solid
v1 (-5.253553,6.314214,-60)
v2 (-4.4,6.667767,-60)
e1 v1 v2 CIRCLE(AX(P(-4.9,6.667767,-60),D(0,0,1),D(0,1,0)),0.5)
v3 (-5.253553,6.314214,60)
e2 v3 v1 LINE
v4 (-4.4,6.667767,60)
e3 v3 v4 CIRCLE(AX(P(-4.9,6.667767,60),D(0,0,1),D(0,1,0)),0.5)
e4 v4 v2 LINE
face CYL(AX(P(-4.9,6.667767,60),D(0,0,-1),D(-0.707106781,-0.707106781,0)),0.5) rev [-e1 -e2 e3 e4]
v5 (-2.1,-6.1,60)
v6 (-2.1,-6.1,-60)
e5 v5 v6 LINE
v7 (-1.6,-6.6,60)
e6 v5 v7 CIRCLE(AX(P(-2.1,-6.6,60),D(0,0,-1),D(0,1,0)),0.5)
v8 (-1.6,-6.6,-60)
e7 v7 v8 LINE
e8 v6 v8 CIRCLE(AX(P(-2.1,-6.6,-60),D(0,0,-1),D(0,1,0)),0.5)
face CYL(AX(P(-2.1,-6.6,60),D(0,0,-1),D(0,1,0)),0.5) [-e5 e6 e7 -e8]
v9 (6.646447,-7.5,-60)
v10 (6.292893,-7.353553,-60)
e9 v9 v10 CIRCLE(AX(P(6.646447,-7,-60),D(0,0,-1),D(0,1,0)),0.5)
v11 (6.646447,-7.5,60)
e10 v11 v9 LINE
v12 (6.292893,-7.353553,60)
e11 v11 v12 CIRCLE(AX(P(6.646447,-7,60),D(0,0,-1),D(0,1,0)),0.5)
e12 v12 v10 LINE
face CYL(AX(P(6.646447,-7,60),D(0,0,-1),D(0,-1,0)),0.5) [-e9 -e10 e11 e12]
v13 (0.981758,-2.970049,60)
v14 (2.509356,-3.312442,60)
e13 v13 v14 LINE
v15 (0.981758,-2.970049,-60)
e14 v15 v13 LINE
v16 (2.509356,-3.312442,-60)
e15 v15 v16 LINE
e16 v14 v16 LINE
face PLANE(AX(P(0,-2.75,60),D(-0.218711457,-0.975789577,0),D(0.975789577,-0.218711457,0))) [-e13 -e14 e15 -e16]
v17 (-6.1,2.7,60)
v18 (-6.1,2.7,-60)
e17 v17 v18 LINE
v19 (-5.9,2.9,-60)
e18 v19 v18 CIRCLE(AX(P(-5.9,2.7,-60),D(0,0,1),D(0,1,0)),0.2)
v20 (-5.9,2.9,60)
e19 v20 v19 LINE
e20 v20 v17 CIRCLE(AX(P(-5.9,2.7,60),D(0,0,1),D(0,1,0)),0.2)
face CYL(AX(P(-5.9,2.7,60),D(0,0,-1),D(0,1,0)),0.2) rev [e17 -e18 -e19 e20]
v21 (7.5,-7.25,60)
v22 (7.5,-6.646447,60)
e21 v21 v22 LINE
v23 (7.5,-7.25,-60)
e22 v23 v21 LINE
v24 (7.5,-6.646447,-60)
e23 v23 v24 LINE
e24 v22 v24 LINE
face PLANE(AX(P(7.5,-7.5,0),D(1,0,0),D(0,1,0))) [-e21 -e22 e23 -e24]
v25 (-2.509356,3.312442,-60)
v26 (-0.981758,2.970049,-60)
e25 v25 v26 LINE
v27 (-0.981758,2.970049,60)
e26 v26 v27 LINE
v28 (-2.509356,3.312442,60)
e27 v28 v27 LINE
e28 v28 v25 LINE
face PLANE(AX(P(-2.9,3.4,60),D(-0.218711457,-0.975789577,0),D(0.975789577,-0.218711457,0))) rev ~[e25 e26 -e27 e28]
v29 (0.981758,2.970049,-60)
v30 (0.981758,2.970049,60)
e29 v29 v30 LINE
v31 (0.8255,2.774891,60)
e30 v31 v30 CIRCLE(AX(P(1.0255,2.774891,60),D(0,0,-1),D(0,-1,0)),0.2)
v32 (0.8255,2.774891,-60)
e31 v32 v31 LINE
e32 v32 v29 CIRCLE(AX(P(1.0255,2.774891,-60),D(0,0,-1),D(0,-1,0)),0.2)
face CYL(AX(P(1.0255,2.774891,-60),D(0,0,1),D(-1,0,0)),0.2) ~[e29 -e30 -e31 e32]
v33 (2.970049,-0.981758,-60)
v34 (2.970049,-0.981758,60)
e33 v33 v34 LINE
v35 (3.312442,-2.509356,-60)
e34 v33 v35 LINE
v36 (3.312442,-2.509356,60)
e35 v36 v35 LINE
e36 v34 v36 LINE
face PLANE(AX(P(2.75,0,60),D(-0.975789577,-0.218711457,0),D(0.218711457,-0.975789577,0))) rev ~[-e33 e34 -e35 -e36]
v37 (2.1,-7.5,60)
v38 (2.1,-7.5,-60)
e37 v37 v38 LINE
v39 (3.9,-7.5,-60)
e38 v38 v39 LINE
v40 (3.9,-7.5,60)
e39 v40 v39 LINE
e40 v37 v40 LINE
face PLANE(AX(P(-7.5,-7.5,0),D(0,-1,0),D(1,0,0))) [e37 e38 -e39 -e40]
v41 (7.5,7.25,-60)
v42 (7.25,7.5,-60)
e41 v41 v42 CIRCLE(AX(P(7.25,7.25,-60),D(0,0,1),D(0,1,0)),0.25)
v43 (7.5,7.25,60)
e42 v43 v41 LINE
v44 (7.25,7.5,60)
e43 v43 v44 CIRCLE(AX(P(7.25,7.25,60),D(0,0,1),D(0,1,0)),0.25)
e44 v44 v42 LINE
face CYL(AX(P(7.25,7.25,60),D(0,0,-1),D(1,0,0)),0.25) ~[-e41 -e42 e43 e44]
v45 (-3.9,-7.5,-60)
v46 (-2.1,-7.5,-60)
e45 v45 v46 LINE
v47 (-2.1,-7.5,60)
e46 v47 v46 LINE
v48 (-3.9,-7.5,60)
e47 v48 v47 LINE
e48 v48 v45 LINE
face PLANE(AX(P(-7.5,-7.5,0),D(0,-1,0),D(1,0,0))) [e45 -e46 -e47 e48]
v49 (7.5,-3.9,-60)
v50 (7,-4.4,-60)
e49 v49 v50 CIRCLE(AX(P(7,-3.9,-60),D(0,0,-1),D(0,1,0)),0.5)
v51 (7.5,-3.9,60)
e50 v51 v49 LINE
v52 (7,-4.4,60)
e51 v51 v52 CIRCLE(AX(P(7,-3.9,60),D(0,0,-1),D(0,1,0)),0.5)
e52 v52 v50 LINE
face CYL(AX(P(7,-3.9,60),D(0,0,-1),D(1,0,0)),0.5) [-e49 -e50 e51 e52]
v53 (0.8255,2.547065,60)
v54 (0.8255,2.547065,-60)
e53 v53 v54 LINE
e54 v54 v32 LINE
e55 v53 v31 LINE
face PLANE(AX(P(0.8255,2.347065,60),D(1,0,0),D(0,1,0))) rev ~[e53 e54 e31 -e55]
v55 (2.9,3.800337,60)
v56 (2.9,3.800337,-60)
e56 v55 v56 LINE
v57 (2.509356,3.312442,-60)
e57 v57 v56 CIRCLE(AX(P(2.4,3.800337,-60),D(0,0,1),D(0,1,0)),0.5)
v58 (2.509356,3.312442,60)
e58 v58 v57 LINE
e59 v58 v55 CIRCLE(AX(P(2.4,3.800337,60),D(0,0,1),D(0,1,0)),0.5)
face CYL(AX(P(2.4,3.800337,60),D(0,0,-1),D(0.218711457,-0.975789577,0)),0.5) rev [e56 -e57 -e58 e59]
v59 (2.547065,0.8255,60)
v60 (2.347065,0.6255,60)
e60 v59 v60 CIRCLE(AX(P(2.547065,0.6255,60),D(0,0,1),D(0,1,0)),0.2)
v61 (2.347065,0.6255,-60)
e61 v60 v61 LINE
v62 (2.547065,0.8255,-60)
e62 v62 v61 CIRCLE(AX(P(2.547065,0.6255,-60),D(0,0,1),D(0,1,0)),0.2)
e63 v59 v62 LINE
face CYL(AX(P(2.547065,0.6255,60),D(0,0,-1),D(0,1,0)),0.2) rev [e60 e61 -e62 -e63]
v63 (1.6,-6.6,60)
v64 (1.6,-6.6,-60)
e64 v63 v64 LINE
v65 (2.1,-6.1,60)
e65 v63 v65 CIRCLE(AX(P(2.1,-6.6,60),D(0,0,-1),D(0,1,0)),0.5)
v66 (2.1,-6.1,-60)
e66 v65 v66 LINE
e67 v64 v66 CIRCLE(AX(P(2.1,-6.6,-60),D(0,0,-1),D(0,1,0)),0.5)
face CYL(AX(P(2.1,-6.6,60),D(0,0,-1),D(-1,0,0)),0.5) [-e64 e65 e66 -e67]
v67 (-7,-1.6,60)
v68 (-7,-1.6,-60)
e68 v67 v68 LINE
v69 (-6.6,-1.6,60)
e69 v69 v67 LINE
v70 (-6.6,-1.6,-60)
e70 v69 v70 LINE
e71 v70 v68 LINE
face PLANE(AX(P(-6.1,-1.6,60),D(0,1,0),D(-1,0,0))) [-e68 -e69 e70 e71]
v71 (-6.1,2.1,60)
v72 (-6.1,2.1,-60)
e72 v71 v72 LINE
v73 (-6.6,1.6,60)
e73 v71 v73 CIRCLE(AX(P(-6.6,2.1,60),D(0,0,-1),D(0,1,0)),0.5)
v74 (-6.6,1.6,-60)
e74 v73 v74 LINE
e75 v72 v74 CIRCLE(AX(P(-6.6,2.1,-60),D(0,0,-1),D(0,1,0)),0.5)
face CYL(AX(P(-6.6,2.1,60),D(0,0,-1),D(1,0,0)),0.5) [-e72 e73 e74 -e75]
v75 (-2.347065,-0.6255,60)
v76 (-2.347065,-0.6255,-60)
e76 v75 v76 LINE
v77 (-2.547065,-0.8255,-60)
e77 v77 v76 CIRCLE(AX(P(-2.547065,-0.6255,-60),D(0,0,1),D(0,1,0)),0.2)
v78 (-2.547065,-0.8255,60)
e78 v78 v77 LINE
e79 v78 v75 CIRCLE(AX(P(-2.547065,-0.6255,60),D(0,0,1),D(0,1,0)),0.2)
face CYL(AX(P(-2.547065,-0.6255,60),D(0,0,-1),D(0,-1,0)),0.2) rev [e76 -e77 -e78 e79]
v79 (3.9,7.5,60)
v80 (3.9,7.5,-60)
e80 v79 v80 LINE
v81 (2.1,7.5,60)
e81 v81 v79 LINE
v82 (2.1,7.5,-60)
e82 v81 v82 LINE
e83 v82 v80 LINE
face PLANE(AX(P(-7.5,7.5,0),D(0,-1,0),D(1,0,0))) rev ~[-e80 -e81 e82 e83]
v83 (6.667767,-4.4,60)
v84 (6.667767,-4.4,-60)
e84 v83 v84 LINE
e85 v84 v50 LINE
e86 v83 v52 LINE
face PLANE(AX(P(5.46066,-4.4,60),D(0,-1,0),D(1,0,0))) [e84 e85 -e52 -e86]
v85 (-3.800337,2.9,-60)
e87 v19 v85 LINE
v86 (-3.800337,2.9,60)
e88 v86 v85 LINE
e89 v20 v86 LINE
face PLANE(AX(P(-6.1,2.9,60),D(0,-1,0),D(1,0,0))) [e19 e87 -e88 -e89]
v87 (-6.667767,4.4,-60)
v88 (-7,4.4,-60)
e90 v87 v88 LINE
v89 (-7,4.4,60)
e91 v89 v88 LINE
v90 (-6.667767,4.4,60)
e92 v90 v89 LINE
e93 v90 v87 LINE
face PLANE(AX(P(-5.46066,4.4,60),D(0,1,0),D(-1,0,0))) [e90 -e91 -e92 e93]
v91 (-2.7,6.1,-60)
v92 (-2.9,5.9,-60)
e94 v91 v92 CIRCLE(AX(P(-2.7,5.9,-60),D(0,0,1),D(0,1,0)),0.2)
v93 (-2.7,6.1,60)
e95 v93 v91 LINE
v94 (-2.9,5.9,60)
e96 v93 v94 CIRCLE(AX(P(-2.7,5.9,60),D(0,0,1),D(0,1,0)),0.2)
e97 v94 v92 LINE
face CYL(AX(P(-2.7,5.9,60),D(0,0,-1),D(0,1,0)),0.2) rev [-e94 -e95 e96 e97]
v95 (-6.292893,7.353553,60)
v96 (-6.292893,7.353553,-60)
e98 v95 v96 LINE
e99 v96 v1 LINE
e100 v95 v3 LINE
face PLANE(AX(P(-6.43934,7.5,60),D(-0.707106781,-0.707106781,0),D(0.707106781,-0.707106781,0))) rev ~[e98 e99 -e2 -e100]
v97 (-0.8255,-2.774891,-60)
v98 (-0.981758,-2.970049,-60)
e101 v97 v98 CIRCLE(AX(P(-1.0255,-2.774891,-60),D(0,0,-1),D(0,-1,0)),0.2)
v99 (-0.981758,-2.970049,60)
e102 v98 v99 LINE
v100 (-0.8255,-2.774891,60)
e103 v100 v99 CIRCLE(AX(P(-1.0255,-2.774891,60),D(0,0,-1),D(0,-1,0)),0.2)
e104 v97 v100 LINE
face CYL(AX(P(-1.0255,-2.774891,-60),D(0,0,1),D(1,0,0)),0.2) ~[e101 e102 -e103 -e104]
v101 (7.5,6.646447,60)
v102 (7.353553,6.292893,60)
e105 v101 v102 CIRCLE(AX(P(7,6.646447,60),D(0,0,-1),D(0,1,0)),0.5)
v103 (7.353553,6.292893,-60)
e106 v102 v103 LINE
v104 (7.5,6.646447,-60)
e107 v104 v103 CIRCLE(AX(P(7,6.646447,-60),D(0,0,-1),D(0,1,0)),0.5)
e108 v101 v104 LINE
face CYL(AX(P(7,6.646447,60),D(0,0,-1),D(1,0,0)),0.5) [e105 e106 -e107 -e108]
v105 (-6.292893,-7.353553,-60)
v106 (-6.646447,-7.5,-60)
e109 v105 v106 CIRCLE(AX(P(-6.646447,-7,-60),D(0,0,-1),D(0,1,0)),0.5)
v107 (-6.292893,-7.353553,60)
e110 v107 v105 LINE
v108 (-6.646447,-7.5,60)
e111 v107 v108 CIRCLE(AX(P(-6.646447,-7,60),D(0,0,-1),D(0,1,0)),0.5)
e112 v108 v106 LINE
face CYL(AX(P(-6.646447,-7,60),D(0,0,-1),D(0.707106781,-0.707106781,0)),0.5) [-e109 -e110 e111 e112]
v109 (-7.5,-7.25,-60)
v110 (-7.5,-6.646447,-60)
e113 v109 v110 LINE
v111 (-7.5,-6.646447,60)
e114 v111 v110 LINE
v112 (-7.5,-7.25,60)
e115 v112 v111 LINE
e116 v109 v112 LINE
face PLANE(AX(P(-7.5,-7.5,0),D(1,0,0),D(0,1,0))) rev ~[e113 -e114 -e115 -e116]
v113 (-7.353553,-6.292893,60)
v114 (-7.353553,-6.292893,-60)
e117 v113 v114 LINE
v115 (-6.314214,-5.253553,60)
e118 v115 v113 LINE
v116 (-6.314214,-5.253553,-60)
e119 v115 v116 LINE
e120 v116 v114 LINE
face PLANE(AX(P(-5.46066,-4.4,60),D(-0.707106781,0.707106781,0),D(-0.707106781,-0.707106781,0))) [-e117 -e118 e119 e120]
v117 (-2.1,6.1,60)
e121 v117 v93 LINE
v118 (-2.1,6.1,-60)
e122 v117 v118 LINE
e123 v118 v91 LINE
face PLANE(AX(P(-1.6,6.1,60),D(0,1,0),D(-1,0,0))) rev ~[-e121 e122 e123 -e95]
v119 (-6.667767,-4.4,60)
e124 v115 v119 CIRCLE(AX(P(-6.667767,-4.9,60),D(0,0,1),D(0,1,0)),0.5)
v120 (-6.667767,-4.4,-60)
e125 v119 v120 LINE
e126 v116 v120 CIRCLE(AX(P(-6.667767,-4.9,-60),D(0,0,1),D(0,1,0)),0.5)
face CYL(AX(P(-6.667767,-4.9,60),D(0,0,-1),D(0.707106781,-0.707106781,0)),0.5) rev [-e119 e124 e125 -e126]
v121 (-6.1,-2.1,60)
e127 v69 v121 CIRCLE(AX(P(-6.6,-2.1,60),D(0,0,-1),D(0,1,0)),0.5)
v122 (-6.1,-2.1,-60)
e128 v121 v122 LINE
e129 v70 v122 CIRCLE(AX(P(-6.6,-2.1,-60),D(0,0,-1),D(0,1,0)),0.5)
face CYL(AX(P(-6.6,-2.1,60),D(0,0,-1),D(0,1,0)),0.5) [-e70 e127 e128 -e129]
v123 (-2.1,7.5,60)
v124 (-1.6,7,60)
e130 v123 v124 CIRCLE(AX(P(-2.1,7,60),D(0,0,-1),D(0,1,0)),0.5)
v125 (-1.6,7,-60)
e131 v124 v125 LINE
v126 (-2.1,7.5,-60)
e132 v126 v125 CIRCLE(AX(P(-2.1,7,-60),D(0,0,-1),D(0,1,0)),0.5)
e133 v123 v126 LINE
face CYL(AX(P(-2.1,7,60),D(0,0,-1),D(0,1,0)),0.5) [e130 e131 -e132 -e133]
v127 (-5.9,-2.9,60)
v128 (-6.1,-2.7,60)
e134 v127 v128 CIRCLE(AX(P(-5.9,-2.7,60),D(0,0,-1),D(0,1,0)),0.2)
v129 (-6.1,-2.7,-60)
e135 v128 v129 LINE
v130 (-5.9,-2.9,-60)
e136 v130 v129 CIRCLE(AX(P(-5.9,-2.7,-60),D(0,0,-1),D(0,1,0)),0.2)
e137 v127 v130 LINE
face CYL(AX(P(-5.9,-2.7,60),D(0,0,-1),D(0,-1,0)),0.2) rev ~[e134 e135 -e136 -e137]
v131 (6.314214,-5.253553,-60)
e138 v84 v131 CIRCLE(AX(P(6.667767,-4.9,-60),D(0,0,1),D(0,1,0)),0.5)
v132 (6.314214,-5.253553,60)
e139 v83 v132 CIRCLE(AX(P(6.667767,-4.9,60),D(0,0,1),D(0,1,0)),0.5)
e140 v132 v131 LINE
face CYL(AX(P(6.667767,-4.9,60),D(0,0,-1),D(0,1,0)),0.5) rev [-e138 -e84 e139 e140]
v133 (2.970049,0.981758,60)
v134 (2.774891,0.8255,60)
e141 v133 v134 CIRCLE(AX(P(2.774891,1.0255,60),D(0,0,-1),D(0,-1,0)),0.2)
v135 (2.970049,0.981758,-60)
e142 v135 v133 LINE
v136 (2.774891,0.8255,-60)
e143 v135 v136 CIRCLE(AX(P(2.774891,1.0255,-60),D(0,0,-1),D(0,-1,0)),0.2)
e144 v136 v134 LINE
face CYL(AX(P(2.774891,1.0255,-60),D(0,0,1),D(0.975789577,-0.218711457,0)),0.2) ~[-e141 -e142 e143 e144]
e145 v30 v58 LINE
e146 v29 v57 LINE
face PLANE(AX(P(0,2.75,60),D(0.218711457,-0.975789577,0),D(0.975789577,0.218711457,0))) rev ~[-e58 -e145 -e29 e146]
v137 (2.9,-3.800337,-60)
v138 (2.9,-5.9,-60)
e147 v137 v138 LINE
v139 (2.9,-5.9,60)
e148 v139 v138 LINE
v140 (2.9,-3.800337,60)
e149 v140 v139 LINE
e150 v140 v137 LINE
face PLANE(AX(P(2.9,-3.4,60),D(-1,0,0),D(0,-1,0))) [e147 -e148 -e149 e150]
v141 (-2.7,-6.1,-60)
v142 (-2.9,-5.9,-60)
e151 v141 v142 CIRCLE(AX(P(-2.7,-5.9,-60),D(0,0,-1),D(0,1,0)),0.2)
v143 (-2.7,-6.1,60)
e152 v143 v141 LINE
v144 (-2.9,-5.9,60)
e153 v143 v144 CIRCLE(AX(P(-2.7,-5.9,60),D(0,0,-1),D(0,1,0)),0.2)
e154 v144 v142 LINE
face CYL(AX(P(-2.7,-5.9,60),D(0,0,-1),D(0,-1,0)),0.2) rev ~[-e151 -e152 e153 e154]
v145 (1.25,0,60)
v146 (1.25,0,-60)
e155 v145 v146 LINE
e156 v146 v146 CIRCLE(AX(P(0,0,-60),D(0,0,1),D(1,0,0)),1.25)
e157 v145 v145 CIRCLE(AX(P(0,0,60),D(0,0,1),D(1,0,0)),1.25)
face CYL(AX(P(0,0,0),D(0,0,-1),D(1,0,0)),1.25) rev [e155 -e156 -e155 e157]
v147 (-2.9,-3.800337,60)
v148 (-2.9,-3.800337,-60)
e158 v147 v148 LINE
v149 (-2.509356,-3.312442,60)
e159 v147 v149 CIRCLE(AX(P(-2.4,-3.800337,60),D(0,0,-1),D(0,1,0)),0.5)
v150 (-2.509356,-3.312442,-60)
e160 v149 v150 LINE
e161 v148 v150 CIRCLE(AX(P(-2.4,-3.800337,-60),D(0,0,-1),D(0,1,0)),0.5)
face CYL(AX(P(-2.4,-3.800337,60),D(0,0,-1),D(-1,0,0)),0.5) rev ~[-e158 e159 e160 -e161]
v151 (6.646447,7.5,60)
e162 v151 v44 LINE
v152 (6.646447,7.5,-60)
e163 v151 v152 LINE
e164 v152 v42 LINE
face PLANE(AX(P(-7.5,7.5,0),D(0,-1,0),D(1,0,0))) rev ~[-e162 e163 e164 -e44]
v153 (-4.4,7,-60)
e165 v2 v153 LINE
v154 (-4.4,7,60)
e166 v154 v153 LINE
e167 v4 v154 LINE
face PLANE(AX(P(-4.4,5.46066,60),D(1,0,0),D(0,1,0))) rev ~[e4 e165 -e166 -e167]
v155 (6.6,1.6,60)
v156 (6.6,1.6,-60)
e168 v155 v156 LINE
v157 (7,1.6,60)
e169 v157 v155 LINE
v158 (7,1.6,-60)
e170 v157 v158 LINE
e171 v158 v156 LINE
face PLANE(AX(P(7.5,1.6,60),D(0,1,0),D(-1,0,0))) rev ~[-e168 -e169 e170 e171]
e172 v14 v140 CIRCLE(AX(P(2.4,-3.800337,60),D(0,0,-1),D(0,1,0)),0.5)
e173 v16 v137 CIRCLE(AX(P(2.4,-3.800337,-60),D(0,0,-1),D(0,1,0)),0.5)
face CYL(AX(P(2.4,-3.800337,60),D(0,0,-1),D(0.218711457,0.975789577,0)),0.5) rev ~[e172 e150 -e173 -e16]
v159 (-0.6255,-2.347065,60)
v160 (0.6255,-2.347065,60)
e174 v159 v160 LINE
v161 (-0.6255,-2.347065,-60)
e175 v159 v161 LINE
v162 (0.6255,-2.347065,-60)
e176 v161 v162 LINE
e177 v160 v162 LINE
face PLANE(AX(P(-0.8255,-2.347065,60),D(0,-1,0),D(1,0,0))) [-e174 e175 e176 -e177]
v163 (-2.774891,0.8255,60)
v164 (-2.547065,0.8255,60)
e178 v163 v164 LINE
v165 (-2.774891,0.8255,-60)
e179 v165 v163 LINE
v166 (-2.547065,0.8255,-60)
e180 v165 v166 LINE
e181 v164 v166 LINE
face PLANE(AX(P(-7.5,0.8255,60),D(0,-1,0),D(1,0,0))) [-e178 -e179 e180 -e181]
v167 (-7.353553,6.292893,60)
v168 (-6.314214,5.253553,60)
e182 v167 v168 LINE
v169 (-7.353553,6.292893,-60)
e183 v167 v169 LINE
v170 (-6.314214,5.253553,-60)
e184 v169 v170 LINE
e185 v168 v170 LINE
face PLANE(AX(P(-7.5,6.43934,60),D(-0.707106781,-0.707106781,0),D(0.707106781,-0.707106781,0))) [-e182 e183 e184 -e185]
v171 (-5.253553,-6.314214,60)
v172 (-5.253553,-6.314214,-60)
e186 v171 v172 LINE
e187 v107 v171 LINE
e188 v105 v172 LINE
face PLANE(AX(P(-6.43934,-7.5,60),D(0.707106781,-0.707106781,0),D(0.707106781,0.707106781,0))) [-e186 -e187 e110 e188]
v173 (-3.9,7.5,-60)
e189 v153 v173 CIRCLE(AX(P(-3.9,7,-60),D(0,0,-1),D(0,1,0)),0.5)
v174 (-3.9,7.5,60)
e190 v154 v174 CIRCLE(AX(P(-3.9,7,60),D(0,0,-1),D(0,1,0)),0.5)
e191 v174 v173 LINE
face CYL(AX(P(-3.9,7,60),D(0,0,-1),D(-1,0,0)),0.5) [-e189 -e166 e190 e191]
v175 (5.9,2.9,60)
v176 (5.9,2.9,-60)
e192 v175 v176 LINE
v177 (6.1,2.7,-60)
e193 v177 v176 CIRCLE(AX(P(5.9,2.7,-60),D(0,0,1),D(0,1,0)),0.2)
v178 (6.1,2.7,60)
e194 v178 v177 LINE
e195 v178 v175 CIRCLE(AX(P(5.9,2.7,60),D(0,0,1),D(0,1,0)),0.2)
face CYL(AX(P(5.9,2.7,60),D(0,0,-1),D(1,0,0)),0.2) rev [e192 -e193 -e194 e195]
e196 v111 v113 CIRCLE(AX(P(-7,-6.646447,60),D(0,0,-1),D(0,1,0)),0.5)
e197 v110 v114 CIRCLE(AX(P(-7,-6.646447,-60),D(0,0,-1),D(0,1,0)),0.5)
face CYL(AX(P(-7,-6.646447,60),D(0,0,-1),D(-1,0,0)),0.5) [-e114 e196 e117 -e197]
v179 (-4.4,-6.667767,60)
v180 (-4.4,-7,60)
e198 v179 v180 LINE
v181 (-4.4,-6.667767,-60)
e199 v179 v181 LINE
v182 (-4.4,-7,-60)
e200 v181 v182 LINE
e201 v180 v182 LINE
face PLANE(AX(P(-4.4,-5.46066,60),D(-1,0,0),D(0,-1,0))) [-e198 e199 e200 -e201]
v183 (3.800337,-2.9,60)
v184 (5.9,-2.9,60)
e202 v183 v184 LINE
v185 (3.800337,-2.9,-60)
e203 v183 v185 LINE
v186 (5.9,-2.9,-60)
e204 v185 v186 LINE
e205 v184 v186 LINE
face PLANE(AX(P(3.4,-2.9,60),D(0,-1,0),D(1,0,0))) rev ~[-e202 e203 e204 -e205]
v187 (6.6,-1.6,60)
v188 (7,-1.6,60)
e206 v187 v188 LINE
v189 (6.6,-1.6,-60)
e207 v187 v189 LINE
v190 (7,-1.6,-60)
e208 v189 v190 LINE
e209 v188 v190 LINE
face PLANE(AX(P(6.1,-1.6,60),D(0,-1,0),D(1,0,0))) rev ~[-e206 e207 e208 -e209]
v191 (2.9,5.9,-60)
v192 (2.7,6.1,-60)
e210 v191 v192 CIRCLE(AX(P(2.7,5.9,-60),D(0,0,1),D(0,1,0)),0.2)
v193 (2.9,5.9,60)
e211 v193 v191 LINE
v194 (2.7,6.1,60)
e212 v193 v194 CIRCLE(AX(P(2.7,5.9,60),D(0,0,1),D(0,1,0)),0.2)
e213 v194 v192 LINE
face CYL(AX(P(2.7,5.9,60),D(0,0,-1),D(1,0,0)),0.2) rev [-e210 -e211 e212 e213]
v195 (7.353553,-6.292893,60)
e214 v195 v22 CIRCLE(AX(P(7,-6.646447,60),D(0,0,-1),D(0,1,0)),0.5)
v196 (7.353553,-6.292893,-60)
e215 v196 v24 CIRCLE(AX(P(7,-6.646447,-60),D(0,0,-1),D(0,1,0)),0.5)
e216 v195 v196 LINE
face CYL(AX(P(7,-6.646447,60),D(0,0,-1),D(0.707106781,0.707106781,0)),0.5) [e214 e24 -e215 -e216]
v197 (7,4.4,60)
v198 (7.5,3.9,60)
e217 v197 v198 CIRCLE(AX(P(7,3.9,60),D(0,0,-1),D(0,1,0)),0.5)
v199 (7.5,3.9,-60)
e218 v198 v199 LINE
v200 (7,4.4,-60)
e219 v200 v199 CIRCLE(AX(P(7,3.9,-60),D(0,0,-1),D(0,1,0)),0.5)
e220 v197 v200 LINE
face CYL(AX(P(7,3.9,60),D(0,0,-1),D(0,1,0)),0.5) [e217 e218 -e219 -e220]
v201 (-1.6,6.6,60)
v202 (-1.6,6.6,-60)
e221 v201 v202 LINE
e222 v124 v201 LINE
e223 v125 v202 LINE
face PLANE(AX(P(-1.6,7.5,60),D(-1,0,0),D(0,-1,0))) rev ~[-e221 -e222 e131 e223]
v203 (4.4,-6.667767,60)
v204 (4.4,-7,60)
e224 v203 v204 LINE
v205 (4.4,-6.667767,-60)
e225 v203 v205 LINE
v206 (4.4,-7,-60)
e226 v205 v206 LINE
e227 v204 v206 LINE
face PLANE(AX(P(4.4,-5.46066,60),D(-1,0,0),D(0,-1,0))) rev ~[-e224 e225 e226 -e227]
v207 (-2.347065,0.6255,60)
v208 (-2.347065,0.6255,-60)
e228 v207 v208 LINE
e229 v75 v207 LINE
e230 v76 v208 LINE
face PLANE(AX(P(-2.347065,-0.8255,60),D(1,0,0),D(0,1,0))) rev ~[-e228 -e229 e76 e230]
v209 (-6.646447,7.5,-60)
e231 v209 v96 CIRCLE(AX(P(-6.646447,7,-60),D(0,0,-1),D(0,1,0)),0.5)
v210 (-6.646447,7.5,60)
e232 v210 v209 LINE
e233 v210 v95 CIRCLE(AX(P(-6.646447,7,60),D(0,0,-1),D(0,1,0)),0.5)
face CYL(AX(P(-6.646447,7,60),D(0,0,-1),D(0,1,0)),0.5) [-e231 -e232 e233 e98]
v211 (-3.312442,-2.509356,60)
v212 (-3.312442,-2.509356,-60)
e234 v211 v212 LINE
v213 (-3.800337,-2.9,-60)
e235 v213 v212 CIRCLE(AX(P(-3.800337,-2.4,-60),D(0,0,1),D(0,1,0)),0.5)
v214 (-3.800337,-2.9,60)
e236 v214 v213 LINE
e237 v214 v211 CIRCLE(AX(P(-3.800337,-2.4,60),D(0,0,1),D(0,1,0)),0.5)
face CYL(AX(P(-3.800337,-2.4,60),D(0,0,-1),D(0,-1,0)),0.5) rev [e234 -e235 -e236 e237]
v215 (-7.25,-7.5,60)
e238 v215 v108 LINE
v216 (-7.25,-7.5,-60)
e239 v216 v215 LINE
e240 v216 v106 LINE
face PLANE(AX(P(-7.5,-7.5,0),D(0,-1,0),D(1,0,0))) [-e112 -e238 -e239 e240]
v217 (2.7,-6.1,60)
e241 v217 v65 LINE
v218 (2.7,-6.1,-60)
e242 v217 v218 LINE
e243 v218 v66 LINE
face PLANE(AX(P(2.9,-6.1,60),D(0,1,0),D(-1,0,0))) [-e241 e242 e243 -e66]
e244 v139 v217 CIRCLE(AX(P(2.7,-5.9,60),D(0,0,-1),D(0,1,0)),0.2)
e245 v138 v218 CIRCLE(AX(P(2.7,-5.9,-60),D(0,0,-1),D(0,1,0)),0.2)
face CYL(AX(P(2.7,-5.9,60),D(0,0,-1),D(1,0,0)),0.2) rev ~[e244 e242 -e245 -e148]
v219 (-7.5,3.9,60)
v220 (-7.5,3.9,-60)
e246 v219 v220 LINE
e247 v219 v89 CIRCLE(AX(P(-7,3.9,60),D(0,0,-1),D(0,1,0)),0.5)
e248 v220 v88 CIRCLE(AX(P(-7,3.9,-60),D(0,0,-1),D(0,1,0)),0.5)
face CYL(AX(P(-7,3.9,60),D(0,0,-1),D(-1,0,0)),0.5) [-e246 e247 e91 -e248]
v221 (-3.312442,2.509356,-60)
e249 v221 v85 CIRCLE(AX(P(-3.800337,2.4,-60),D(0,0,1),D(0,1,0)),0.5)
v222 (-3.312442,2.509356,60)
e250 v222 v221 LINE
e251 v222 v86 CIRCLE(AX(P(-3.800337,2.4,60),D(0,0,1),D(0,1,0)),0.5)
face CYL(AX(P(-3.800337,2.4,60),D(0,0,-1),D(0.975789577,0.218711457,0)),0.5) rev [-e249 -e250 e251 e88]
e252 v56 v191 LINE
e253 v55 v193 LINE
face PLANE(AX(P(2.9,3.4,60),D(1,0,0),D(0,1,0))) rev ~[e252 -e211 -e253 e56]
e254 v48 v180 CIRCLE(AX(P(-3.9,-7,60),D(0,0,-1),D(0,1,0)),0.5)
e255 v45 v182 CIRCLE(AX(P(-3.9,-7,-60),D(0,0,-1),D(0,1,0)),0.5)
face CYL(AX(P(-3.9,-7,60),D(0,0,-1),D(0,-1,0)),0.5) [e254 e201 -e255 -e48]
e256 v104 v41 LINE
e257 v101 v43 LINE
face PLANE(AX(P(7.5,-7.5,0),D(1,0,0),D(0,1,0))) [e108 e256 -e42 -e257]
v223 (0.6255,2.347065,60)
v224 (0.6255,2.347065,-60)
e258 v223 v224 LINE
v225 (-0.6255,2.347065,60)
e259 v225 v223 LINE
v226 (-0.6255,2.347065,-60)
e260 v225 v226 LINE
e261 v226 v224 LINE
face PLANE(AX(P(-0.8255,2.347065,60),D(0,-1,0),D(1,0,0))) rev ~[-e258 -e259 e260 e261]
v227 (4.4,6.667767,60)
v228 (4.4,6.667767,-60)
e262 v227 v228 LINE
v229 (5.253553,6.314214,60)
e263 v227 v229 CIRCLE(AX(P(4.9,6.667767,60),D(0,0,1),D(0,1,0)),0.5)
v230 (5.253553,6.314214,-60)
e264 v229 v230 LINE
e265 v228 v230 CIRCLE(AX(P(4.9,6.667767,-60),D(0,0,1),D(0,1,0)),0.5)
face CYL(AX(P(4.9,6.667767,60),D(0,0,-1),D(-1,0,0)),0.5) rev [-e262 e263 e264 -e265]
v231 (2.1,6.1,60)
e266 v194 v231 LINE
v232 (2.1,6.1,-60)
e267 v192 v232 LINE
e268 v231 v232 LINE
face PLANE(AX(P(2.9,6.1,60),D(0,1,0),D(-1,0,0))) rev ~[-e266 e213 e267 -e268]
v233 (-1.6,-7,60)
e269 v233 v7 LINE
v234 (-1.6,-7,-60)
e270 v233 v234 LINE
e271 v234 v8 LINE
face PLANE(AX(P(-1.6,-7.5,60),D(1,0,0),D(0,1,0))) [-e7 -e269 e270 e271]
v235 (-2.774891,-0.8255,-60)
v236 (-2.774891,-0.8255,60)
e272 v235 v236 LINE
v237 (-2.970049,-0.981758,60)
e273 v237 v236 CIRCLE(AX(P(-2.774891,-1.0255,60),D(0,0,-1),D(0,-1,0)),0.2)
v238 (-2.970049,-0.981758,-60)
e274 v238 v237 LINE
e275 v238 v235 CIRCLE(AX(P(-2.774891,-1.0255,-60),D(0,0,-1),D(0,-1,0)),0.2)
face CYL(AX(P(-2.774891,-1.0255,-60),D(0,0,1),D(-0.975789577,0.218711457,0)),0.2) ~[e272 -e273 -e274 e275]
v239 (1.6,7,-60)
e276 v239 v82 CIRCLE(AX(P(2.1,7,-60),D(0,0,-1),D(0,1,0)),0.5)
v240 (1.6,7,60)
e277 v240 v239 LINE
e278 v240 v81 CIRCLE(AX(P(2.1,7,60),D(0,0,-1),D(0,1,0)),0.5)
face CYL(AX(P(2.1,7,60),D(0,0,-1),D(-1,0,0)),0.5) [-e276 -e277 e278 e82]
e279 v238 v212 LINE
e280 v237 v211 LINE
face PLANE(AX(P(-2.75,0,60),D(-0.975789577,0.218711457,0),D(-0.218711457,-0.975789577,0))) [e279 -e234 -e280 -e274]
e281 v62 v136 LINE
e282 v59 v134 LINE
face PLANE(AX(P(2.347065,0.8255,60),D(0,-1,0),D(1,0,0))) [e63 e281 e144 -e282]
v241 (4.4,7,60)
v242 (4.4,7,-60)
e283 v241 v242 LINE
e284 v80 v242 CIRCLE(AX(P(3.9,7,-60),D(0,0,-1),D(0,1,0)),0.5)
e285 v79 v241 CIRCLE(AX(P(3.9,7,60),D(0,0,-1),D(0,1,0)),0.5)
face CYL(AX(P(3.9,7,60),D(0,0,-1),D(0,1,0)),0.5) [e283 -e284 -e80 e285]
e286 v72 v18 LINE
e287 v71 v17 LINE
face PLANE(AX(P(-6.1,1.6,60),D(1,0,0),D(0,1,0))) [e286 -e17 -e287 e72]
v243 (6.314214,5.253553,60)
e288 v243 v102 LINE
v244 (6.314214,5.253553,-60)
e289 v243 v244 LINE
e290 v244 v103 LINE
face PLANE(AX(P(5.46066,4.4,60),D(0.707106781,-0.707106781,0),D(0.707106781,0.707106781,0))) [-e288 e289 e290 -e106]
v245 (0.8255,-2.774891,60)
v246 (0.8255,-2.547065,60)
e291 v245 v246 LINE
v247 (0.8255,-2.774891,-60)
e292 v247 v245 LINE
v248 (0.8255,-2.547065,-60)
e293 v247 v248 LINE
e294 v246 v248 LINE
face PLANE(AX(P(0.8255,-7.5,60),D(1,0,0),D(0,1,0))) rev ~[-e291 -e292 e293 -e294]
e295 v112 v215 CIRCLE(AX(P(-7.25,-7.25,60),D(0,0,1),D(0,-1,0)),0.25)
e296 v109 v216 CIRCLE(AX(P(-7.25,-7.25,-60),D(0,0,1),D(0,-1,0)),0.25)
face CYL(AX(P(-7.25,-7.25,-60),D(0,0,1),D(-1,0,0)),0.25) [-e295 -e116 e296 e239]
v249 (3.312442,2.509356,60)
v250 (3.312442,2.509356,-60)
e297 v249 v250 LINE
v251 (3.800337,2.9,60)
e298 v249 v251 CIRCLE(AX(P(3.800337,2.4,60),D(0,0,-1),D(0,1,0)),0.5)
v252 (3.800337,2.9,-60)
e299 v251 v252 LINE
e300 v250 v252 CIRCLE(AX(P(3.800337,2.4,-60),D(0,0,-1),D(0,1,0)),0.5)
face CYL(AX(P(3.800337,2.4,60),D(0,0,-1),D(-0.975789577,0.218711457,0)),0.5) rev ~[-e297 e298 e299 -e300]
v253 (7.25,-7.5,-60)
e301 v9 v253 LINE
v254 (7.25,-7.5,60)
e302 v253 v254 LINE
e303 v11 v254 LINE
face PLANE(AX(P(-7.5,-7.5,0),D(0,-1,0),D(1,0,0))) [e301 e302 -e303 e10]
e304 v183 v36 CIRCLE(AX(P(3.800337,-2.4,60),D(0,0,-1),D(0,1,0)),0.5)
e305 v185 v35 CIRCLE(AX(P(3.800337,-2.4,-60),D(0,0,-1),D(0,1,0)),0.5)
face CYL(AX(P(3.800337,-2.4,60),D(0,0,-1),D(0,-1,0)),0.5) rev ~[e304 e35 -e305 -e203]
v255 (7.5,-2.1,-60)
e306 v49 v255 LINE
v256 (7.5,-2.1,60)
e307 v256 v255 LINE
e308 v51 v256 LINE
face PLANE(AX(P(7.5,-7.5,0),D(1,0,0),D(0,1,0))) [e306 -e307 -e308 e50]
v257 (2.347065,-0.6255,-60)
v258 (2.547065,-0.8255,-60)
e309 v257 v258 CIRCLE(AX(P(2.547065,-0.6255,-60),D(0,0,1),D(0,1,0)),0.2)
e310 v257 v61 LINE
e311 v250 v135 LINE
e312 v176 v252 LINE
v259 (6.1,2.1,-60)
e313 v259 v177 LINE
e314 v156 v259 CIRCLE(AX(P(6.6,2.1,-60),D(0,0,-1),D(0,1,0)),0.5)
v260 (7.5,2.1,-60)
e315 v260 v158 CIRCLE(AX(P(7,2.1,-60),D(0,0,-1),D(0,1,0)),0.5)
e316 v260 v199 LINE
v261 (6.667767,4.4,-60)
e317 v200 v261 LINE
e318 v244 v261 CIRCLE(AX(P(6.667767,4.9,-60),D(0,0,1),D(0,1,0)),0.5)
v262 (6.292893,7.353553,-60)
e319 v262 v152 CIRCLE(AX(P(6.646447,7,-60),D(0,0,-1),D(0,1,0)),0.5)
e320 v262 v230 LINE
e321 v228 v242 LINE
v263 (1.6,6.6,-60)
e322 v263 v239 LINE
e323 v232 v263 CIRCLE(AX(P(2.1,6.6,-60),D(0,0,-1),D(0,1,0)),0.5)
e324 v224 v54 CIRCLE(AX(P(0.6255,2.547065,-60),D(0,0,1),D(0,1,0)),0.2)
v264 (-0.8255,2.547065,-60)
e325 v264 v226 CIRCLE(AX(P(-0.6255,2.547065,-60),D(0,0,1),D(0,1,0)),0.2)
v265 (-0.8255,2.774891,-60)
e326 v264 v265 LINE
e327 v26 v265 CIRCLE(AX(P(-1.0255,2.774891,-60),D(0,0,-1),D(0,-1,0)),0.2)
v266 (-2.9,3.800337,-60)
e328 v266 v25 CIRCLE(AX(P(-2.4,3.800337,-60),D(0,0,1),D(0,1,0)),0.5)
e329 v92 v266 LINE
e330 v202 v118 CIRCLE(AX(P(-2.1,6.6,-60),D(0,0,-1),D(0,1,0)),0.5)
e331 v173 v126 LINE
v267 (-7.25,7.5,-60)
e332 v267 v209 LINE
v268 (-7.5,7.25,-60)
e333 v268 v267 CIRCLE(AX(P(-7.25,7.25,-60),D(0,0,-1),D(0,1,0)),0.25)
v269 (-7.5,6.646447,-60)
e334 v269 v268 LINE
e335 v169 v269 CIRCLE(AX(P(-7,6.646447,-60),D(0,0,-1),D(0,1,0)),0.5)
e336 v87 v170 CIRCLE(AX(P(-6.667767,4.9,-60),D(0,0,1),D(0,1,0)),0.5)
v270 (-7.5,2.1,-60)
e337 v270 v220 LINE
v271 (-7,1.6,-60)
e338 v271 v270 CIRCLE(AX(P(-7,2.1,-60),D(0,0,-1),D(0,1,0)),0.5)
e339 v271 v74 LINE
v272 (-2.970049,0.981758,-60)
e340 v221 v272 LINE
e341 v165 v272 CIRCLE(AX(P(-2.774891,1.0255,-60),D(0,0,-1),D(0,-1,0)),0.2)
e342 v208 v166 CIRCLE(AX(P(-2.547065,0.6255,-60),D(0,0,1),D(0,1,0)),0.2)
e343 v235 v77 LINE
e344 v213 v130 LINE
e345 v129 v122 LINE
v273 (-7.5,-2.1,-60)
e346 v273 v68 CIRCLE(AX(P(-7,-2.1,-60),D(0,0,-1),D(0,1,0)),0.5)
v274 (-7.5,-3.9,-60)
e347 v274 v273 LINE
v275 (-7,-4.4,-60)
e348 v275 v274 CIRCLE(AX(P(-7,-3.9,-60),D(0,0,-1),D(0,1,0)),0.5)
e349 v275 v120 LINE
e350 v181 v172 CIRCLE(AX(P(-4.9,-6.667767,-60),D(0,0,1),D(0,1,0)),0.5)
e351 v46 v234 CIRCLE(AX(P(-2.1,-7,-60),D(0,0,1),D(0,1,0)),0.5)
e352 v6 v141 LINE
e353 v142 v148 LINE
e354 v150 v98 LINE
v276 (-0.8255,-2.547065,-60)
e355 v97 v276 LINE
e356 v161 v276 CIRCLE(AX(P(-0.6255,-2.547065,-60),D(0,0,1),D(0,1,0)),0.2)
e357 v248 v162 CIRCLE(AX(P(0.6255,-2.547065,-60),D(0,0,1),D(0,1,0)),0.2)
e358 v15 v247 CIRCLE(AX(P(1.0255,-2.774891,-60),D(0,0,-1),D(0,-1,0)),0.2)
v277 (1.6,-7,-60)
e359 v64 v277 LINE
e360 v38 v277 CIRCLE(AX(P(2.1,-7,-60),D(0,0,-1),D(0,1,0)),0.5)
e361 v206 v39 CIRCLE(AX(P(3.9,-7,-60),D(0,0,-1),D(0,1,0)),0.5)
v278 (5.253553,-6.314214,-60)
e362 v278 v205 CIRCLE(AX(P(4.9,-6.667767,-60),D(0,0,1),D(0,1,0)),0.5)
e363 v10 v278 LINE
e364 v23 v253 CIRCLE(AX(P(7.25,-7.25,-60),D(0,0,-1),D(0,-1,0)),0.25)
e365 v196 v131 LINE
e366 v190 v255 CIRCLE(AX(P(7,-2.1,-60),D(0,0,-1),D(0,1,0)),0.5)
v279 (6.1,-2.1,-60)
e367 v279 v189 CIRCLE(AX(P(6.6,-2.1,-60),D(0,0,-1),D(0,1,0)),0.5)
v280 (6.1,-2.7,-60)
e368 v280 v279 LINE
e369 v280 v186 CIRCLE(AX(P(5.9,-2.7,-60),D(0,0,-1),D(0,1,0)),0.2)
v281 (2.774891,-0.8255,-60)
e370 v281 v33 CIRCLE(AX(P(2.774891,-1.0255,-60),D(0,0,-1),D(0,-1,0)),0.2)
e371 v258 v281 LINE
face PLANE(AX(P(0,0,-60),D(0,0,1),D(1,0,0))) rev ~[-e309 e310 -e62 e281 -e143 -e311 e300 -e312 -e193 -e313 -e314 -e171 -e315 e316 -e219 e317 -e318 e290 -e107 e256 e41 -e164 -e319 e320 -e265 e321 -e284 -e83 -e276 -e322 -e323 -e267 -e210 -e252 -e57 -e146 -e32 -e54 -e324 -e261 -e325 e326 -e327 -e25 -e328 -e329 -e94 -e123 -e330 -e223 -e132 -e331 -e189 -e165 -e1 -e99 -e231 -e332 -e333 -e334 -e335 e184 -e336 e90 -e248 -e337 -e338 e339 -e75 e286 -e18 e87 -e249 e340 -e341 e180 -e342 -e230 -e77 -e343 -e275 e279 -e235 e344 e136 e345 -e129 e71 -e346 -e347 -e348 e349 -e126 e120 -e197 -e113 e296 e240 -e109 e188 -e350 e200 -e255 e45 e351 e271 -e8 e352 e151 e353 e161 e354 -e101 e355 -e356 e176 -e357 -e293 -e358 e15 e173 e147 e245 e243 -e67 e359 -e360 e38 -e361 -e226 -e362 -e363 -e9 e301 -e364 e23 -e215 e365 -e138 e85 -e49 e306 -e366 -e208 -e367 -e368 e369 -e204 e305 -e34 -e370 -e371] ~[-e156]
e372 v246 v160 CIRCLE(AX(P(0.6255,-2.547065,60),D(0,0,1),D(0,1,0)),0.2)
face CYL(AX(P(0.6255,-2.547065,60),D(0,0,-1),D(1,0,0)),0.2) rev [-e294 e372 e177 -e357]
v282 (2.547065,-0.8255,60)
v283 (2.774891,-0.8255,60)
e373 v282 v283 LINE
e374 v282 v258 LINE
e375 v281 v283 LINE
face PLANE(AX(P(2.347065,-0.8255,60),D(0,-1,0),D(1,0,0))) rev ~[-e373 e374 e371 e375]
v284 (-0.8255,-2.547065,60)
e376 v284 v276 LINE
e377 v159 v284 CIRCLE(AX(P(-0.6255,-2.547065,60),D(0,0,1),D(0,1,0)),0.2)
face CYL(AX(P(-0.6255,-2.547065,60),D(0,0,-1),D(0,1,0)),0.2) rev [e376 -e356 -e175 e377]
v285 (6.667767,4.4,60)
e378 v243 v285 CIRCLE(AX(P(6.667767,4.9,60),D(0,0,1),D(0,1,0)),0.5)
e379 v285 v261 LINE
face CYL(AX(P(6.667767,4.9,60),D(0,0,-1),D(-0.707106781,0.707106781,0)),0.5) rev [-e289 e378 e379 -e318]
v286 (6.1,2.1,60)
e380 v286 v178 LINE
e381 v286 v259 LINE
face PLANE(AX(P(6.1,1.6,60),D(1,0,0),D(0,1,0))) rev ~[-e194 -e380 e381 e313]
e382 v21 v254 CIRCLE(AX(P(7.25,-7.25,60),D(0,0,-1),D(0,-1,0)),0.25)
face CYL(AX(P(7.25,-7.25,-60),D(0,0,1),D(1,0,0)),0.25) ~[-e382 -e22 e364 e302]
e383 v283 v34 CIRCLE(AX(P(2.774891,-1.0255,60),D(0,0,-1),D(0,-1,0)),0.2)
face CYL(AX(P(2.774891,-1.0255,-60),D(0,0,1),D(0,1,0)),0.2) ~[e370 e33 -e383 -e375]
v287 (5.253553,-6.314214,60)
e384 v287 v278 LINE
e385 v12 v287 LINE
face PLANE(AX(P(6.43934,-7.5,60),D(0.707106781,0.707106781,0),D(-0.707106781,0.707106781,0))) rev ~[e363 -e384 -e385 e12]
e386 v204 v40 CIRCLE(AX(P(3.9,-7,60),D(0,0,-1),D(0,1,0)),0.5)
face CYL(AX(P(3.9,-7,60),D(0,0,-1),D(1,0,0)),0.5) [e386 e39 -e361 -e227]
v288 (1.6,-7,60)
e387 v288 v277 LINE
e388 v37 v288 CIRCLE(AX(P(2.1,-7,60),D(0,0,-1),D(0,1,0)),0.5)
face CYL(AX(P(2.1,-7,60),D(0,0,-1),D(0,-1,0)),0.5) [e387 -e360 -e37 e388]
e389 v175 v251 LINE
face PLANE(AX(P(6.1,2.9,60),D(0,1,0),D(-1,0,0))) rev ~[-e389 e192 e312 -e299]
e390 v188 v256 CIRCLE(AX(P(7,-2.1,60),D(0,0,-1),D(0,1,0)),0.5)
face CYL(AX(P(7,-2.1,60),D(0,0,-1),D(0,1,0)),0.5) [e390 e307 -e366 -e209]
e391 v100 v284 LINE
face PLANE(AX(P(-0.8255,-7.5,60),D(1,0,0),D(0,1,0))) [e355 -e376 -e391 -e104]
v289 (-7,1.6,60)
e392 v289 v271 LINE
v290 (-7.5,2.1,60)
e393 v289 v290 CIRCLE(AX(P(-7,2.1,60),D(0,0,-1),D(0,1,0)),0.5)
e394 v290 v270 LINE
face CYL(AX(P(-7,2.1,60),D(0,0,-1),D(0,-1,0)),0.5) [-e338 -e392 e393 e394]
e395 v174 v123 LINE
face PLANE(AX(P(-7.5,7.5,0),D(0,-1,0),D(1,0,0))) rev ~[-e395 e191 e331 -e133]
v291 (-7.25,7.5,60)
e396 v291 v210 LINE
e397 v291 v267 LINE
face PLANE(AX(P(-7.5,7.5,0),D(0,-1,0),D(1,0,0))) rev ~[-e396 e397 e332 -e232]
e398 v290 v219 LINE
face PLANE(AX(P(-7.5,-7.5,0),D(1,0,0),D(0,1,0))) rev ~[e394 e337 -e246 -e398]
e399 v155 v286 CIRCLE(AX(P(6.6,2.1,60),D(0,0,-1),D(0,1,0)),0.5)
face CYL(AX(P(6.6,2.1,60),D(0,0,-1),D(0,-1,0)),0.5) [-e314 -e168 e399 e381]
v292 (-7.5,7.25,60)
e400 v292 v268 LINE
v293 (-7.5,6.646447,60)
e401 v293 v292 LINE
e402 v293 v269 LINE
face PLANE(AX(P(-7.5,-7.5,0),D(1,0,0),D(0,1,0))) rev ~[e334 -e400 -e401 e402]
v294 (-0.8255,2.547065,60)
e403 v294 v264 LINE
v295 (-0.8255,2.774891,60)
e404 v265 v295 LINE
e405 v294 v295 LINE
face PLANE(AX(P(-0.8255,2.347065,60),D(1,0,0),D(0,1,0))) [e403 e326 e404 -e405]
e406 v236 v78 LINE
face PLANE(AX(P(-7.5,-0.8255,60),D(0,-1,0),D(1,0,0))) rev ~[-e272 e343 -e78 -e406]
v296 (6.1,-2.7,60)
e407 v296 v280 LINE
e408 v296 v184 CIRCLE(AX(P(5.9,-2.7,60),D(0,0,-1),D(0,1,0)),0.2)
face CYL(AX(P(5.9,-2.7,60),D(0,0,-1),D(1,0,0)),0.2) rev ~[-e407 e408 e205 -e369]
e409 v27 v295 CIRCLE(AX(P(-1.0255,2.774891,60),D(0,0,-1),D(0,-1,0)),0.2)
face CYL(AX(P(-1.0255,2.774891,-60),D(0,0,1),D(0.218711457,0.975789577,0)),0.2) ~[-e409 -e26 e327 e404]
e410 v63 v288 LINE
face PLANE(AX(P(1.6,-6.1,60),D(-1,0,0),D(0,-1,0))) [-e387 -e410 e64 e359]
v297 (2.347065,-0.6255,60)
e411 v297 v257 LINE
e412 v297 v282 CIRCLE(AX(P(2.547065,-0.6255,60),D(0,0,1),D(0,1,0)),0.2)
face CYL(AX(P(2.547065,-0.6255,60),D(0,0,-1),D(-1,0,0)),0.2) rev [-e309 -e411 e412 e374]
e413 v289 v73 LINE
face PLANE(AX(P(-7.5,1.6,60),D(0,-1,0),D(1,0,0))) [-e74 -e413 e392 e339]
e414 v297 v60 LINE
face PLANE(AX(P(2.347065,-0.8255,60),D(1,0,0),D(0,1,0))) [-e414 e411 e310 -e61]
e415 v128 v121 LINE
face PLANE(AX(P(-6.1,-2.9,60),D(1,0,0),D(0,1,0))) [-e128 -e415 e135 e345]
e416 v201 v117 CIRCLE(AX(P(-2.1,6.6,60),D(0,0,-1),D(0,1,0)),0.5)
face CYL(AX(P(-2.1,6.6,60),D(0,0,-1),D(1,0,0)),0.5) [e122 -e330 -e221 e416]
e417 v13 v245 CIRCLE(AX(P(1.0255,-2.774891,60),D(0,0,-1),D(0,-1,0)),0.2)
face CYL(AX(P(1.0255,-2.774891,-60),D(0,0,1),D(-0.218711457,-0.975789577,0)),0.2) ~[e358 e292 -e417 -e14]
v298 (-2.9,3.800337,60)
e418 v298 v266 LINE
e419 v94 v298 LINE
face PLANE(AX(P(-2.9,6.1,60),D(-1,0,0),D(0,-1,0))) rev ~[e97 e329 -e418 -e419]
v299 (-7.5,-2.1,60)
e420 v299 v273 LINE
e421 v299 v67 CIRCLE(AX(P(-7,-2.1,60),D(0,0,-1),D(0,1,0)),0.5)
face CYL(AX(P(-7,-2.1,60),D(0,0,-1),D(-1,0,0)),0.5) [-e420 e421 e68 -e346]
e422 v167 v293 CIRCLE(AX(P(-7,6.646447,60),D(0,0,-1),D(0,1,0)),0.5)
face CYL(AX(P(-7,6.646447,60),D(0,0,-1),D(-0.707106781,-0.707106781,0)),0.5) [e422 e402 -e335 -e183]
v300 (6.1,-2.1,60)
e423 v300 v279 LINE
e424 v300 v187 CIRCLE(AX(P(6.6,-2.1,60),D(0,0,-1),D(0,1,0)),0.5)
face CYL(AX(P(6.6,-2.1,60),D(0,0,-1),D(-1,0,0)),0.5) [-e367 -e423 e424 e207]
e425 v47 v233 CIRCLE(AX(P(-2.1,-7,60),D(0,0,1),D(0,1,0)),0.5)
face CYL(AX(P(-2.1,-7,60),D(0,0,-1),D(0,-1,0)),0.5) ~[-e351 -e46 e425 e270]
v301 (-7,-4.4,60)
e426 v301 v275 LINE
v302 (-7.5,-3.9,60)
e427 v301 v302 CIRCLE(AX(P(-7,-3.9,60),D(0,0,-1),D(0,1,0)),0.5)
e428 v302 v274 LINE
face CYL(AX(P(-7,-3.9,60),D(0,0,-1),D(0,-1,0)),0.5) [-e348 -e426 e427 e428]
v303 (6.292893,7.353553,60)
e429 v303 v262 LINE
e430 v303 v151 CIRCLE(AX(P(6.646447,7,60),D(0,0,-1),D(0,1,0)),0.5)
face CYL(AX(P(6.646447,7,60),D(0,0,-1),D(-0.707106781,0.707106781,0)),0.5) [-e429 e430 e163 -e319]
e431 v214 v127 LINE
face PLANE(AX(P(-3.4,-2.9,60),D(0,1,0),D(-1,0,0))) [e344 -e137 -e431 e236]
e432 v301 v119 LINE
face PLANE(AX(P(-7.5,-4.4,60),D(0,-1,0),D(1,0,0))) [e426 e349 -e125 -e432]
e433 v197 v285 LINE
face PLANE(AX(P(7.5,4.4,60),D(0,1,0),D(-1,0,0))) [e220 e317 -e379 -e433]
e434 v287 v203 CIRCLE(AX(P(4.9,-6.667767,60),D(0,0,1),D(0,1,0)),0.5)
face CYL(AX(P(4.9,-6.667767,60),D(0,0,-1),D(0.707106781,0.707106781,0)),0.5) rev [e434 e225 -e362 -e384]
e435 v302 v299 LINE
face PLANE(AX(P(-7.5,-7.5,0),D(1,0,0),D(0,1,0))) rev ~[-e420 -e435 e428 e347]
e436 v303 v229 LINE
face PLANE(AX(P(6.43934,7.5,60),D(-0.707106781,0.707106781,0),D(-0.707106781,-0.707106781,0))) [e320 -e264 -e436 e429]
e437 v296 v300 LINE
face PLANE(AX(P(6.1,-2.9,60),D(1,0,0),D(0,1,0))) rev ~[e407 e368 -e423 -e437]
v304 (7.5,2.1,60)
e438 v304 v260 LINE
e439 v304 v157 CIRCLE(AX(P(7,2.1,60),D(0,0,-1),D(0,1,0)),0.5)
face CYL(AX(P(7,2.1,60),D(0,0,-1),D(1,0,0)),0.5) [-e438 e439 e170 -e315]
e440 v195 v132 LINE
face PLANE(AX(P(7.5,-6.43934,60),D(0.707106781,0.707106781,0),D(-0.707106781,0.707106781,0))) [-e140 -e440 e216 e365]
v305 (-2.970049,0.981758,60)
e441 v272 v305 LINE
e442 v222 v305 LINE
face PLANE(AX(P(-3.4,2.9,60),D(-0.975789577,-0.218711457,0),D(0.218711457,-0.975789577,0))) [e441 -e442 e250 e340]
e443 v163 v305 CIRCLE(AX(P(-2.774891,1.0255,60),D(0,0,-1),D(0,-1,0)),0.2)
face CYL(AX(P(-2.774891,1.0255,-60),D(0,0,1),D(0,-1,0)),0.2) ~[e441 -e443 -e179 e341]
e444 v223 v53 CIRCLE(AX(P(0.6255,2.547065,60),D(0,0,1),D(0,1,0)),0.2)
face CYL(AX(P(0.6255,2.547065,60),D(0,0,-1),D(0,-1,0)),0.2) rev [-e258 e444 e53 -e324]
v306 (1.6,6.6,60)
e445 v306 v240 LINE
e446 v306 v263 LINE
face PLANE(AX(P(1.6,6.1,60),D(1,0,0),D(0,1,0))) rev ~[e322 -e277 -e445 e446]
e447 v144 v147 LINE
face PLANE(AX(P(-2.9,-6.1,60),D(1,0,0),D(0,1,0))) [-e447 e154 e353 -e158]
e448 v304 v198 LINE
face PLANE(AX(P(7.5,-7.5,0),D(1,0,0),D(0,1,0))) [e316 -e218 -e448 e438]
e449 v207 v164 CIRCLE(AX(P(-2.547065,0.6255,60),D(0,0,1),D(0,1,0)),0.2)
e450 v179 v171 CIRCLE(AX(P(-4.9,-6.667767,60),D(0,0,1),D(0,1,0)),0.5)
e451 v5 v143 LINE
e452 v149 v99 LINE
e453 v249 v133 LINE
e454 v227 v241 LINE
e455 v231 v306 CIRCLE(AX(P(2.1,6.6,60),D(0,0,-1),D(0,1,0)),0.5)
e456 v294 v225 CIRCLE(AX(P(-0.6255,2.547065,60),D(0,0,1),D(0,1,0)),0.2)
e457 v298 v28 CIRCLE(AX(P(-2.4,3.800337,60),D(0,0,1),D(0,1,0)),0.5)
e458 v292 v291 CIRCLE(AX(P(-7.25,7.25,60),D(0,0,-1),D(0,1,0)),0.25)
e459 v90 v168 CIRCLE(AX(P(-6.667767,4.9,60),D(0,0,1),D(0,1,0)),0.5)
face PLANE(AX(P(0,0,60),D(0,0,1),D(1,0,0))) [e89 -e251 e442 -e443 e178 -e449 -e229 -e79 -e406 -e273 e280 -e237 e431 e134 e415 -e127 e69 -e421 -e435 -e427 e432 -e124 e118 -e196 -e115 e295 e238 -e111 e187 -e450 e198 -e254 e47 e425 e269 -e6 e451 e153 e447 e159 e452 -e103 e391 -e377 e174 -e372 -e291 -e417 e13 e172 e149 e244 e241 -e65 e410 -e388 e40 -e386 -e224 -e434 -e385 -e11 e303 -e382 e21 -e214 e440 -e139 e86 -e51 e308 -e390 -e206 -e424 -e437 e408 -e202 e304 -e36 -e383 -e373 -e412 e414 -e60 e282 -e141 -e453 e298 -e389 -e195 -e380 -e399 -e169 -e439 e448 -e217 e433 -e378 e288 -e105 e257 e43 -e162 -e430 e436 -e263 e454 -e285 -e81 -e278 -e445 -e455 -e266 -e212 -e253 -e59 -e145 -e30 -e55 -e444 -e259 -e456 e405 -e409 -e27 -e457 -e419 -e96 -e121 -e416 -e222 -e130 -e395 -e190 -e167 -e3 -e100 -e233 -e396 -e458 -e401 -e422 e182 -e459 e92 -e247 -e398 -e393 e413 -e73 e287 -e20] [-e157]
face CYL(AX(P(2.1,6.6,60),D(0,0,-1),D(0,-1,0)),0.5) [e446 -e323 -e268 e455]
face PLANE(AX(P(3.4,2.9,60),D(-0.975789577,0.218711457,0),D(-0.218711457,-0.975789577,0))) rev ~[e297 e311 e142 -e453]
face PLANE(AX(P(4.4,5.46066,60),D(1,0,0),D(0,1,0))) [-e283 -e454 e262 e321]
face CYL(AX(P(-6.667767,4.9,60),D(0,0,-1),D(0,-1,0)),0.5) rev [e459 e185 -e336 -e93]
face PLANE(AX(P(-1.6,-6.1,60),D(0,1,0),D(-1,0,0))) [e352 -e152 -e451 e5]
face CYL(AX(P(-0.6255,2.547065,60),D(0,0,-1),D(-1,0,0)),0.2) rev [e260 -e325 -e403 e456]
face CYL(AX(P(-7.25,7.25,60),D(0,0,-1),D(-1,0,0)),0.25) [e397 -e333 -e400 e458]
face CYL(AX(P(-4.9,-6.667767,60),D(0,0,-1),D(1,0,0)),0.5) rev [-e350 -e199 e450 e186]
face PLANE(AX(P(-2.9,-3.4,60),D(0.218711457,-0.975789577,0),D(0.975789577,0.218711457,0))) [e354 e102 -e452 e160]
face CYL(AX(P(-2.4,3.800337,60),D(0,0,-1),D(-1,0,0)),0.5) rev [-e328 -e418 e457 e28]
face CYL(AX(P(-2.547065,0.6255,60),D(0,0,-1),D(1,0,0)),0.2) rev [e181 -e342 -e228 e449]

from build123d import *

# Parameters (mm, degrees)
SKETCH1_W           = 15
SKETCH1_H           = 15
SKETCH1_R           = 1.25
BOSS_EXTRUDE1_DEPTH = 60
FILLET1_R           = 0.25
CUT_EXTRUDE1_DEPTH  = 121
CUT_EXTRUDE3_DEPTH  = 121
FILLET3_R           = 0.5
FILLET4_R           = 0.5
FILLET5_R           = 3
FILLET6_R           = 0.2
CUT_EXTRUDE4_DEPTH  = 121
FILLET8_R           = 0.5
SKETCH6_W           = 5.1529354
SKETCH6_H           = 1.651
SKETCH6_W_2         = 1.651
SKETCH6_H_2         = 5.1529354
CUT_EXTRUDE5_DEPTH  = 121
FILLET10_R          = 0.2


with BuildPart() as part:
    # Sketch1 → Boss-Extrude1 (new body, symmetric)
    with BuildSketch(Plane.XY):
        Rectangle(SKETCH1_W, SKETCH1_H)
        Circle(SKETCH1_R, mode=Mode.SUBTRACT)
    extrude(amount=BOSS_EXTRUDE1_DEPTH, both=True)

    # Fillet1
    fillet1_edges = [part.edges().sort_by_distance(p)[0] for p in [
        (7.5, -7.5, 0),
        (-7.5, -7.5, 0),
        (-7.5, 7.5, 0),
        (7.5, 7.5, 0),
    ]]
    fillet(fillet1_edges, radius=FILLET1_R)

    # Sketch2 → Cut-Extrude1 (cut, through all)
    with BuildSketch(Plane.XY.offset(60)):
        Polygon((-7.5, 1.6), (-6.1, 1.6), (-6.1, 2.9), (-3.4, 2.9), (-3.4, -2.9), (-6.1, -2.9), (-6.1, -1.6), (-7.5, -1.6), align=None)
        Polygon((2.9, 6.1), (1.6, 6.1), (1.6, 7.5), (-1.6, 7.5), (-1.6, 6.1), (-2.9, 6.1), (-2.9, 3.4), (2.9, 3.4), align=None)
        Polygon((-1.6, -7.5), (-1.6, -6.1), (-2.9, -6.1), (-2.9, -3.4), (2.9, -3.4), (2.9, -6.1), (1.6, -6.1), (1.6, -7.5), align=None)
        Polygon((6.1, -2.9), (6.1, -1.6), (7.5, -1.6), (7.5, 1.6), (6.1, 1.6), (6.1, 2.9), (3.4, 2.9), (3.4, -2.9), align=None)
    extrude(amount=-CUT_EXTRUDE1_DEPTH, mode=Mode.SUBTRACT)

    # Sketch4 → Cut-Extrude3 (cut, through all)
    with BuildSketch(Plane.XY.offset(60)):
        Polygon((-3.4, 2.9), (-2.75, 0), (-3.4, -2.9), align=None)
        Polygon((-2.9, 3.4), (0, 2.75), (2.9, 3.4), align=None)
        Polygon((3.4, 2.9), (2.75, 0), (3.4, -2.9), align=None)
        Polygon((-2.9, -3.4), (0, -2.75), (2.9, -3.4), align=None)
    extrude(amount=-CUT_EXTRUDE3_DEPTH, mode=Mode.SUBTRACT)

    # Fillet3
    fillet3_edges = [part.edges().sort_by_distance(p)[0] for p in [
        (1.6, -7.5, 0),
        (-1.6, -7.5, 0),
        (-1.6, -6.1, 0),
        (1.6, -6.1, 0),
        (6.1, 1.6, 0),
        (7.5, 1.6, 0),
        (7.5, -1.6, 0),
        (6.1, -1.6, 0),
        (-7.5, -1.6, 0),
        (-7.5, 1.6, 0),
        (-6.1, 1.6, 0),
        (-6.1, -1.6, 0),
        (-1.6, 6.1, 0),
        (-1.6, 7.5, 0),
        (1.6, 7.5, 0),
        (1.6, 6.1, 0),
    ]]
    fillet(fillet3_edges, radius=FILLET3_R)

    # Fillet4
    fillet4_edges = [part.edges().sort_by_distance(p)[0] for p in [
        (-2.9, -3.4, 0),
        (2.9, -3.4, 0),
        (3.4, -2.9, 0),
        (3.4, 2.9, 0),
        (-3.4, 2.9, 0),
        (-3.4, -2.9, 0),
        (2.9, 3.4, 0),
        (-2.9, 3.4, 0),
    ]]
    fillet(fillet4_edges, radius=FILLET4_R)

    # Fillet5
    fillet5_edges = [part.edges().sort_by_distance(p)[0] for p in [
        (-2.75, 0, 0),
        (0, 2.75, 0),
        (2.75, 0, 0),
        (0, -2.75, 0),
    ]]
    fillet(fillet5_edges, radius=FILLET5_R)

    # Fillet6
    fillet6_edges = [part.edges().sort_by_distance(p)[0] for p in [
        (-2.9, -6.1, 0),
        (2.9, -6.1, 0),
        (6.1, -2.9, 0),
        (6.1, 2.9, 0),
        (-6.1, 2.9, 0),
        (-6.1, -2.9, 0),
        (2.9, 6.1, 0),
        (-2.9, 6.1, 0),
    ]]
    fillet(fillet6_edges, radius=FILLET6_R)

    # Sketch5 → Cut-Extrude4 (cut, through all)
    with BuildSketch(Plane.XY.offset(60)):
        Polygon((-7.5, 6.439339828), (-5.460660172, 4.4), (-7.5, 4.4), align=None)
        Polygon((-6.439339828, 7.5), (-4.4, 5.460660172), (-4.4, 7.5), align=None)
        Polygon((4.4, 7.5), (6.439339828, 7.5), (4.4, 5.460660172), align=None)
        Polygon((7.5, 6.439339828), (7.5, 4.4), (5.460660172, 4.4), align=None)
        Polygon((7.5, -6.439339828), (5.460660172, -4.4), (7.5, -4.4), align=None)
        Polygon((6.439339828, -7.5), (4.4, -5.460660172), (4.4, -7.5), align=None)
        Polygon((-4.4, -7.5), (-6.439339828, -7.5), (-4.4, -5.460660172), align=None)
        Polygon((-7.5, -6.439339828), (-7.5, -4.4), (-5.460660172, -4.4), align=None)
    extrude(amount=-CUT_EXTRUDE4_DEPTH, mode=Mode.SUBTRACT)

    # Fillet8
    fillet8_edges = [part.edges().sort_by_distance(p)[0] for p in [
        (-7.5, 4.4, 0),
        (-7.5, 6.439339828, 0),
        (-5.460660172, 4.4, 0),
        (7.5, -4.4, 0),
        (7.5, -6.439339828, 0),
        (5.460660172, -4.4, 0),
        (5.460660172, 4.4, 0),
        (7.5, 6.439339828, 0),
        (7.5, 4.4, 0),
        (-4.4, 7.5, 0),
        (-4.4, 5.460660172, 0),
        (-6.439339828, 7.5, 0),
        (-5.460660172, -4.4, 0),
        (-7.5, -6.439339828, 0),
        (-7.5, -4.4, 0),
        (4.4, 5.460660172, 0),
        (4.4, 7.5, 0),
        (6.439339828, 7.5, 0),
        (6.439339828, -7.5, 0),
        (4.4, -7.5, 0),
        (4.4, -5.460660172, 0),
        (-6.439339828, -7.5, 0),
        (-4.4, -5.460660172, 0),
        (-4.4, -7.5, 0),
    ]]
    fillet(fillet8_edges, radius=FILLET8_R)

    # Sketch6 → Cut-Extrude5 (cut, through all)
    with BuildSketch(Plane.XY.offset(60)):
        with Locations((4.9235323, 0)):
            Rectangle(SKETCH6_W, SKETCH6_H)
        with Locations((0, -4.9235323)):
            Rectangle(SKETCH6_W_2, SKETCH6_H_2)
        with Locations((-4.9235323, 0)):
            Rectangle(SKETCH6_W, SKETCH6_H)
        with Locations((0, 4.9235323)):
            Rectangle(SKETCH6_W_2, SKETCH6_H_2)
    extrude(amount=-CUT_EXTRUDE5_DEPTH, mode=Mode.SUBTRACT)

    # Fillet10
    fillet10_edges = [part.edges().sort_by_distance(p)[0] for p in [
        (0.8255, -2.935025862, 0),
        (-0.8255, -2.935025862, 0),
        (0.8255, -2.3470646, 0),
        (-0.8255, -2.3470646, 0),
        (2.935025862, 0.8255, 0),
        (2.935025862, -0.8255, 0),
        (2.3470646, 0.8255, 0),
        (2.3470646, -0.8255, 0),
        (-2.935025862, -0.8255, 0),
        (-2.935025862, 0.8255, 0),
        (-2.3470646, -0.8255, 0),
        (-2.3470646, 0.8255, 0),
        (-0.8255, 2.935025862, 0),
        (0.8255, 2.935025862, 0),
        (-0.8255, 2.3470646, 0),
        (0.8255, 2.3470646, 0),
    ]]
    fillet(fillet10_edges, radius=FILLET10_R)


solid = part.part
